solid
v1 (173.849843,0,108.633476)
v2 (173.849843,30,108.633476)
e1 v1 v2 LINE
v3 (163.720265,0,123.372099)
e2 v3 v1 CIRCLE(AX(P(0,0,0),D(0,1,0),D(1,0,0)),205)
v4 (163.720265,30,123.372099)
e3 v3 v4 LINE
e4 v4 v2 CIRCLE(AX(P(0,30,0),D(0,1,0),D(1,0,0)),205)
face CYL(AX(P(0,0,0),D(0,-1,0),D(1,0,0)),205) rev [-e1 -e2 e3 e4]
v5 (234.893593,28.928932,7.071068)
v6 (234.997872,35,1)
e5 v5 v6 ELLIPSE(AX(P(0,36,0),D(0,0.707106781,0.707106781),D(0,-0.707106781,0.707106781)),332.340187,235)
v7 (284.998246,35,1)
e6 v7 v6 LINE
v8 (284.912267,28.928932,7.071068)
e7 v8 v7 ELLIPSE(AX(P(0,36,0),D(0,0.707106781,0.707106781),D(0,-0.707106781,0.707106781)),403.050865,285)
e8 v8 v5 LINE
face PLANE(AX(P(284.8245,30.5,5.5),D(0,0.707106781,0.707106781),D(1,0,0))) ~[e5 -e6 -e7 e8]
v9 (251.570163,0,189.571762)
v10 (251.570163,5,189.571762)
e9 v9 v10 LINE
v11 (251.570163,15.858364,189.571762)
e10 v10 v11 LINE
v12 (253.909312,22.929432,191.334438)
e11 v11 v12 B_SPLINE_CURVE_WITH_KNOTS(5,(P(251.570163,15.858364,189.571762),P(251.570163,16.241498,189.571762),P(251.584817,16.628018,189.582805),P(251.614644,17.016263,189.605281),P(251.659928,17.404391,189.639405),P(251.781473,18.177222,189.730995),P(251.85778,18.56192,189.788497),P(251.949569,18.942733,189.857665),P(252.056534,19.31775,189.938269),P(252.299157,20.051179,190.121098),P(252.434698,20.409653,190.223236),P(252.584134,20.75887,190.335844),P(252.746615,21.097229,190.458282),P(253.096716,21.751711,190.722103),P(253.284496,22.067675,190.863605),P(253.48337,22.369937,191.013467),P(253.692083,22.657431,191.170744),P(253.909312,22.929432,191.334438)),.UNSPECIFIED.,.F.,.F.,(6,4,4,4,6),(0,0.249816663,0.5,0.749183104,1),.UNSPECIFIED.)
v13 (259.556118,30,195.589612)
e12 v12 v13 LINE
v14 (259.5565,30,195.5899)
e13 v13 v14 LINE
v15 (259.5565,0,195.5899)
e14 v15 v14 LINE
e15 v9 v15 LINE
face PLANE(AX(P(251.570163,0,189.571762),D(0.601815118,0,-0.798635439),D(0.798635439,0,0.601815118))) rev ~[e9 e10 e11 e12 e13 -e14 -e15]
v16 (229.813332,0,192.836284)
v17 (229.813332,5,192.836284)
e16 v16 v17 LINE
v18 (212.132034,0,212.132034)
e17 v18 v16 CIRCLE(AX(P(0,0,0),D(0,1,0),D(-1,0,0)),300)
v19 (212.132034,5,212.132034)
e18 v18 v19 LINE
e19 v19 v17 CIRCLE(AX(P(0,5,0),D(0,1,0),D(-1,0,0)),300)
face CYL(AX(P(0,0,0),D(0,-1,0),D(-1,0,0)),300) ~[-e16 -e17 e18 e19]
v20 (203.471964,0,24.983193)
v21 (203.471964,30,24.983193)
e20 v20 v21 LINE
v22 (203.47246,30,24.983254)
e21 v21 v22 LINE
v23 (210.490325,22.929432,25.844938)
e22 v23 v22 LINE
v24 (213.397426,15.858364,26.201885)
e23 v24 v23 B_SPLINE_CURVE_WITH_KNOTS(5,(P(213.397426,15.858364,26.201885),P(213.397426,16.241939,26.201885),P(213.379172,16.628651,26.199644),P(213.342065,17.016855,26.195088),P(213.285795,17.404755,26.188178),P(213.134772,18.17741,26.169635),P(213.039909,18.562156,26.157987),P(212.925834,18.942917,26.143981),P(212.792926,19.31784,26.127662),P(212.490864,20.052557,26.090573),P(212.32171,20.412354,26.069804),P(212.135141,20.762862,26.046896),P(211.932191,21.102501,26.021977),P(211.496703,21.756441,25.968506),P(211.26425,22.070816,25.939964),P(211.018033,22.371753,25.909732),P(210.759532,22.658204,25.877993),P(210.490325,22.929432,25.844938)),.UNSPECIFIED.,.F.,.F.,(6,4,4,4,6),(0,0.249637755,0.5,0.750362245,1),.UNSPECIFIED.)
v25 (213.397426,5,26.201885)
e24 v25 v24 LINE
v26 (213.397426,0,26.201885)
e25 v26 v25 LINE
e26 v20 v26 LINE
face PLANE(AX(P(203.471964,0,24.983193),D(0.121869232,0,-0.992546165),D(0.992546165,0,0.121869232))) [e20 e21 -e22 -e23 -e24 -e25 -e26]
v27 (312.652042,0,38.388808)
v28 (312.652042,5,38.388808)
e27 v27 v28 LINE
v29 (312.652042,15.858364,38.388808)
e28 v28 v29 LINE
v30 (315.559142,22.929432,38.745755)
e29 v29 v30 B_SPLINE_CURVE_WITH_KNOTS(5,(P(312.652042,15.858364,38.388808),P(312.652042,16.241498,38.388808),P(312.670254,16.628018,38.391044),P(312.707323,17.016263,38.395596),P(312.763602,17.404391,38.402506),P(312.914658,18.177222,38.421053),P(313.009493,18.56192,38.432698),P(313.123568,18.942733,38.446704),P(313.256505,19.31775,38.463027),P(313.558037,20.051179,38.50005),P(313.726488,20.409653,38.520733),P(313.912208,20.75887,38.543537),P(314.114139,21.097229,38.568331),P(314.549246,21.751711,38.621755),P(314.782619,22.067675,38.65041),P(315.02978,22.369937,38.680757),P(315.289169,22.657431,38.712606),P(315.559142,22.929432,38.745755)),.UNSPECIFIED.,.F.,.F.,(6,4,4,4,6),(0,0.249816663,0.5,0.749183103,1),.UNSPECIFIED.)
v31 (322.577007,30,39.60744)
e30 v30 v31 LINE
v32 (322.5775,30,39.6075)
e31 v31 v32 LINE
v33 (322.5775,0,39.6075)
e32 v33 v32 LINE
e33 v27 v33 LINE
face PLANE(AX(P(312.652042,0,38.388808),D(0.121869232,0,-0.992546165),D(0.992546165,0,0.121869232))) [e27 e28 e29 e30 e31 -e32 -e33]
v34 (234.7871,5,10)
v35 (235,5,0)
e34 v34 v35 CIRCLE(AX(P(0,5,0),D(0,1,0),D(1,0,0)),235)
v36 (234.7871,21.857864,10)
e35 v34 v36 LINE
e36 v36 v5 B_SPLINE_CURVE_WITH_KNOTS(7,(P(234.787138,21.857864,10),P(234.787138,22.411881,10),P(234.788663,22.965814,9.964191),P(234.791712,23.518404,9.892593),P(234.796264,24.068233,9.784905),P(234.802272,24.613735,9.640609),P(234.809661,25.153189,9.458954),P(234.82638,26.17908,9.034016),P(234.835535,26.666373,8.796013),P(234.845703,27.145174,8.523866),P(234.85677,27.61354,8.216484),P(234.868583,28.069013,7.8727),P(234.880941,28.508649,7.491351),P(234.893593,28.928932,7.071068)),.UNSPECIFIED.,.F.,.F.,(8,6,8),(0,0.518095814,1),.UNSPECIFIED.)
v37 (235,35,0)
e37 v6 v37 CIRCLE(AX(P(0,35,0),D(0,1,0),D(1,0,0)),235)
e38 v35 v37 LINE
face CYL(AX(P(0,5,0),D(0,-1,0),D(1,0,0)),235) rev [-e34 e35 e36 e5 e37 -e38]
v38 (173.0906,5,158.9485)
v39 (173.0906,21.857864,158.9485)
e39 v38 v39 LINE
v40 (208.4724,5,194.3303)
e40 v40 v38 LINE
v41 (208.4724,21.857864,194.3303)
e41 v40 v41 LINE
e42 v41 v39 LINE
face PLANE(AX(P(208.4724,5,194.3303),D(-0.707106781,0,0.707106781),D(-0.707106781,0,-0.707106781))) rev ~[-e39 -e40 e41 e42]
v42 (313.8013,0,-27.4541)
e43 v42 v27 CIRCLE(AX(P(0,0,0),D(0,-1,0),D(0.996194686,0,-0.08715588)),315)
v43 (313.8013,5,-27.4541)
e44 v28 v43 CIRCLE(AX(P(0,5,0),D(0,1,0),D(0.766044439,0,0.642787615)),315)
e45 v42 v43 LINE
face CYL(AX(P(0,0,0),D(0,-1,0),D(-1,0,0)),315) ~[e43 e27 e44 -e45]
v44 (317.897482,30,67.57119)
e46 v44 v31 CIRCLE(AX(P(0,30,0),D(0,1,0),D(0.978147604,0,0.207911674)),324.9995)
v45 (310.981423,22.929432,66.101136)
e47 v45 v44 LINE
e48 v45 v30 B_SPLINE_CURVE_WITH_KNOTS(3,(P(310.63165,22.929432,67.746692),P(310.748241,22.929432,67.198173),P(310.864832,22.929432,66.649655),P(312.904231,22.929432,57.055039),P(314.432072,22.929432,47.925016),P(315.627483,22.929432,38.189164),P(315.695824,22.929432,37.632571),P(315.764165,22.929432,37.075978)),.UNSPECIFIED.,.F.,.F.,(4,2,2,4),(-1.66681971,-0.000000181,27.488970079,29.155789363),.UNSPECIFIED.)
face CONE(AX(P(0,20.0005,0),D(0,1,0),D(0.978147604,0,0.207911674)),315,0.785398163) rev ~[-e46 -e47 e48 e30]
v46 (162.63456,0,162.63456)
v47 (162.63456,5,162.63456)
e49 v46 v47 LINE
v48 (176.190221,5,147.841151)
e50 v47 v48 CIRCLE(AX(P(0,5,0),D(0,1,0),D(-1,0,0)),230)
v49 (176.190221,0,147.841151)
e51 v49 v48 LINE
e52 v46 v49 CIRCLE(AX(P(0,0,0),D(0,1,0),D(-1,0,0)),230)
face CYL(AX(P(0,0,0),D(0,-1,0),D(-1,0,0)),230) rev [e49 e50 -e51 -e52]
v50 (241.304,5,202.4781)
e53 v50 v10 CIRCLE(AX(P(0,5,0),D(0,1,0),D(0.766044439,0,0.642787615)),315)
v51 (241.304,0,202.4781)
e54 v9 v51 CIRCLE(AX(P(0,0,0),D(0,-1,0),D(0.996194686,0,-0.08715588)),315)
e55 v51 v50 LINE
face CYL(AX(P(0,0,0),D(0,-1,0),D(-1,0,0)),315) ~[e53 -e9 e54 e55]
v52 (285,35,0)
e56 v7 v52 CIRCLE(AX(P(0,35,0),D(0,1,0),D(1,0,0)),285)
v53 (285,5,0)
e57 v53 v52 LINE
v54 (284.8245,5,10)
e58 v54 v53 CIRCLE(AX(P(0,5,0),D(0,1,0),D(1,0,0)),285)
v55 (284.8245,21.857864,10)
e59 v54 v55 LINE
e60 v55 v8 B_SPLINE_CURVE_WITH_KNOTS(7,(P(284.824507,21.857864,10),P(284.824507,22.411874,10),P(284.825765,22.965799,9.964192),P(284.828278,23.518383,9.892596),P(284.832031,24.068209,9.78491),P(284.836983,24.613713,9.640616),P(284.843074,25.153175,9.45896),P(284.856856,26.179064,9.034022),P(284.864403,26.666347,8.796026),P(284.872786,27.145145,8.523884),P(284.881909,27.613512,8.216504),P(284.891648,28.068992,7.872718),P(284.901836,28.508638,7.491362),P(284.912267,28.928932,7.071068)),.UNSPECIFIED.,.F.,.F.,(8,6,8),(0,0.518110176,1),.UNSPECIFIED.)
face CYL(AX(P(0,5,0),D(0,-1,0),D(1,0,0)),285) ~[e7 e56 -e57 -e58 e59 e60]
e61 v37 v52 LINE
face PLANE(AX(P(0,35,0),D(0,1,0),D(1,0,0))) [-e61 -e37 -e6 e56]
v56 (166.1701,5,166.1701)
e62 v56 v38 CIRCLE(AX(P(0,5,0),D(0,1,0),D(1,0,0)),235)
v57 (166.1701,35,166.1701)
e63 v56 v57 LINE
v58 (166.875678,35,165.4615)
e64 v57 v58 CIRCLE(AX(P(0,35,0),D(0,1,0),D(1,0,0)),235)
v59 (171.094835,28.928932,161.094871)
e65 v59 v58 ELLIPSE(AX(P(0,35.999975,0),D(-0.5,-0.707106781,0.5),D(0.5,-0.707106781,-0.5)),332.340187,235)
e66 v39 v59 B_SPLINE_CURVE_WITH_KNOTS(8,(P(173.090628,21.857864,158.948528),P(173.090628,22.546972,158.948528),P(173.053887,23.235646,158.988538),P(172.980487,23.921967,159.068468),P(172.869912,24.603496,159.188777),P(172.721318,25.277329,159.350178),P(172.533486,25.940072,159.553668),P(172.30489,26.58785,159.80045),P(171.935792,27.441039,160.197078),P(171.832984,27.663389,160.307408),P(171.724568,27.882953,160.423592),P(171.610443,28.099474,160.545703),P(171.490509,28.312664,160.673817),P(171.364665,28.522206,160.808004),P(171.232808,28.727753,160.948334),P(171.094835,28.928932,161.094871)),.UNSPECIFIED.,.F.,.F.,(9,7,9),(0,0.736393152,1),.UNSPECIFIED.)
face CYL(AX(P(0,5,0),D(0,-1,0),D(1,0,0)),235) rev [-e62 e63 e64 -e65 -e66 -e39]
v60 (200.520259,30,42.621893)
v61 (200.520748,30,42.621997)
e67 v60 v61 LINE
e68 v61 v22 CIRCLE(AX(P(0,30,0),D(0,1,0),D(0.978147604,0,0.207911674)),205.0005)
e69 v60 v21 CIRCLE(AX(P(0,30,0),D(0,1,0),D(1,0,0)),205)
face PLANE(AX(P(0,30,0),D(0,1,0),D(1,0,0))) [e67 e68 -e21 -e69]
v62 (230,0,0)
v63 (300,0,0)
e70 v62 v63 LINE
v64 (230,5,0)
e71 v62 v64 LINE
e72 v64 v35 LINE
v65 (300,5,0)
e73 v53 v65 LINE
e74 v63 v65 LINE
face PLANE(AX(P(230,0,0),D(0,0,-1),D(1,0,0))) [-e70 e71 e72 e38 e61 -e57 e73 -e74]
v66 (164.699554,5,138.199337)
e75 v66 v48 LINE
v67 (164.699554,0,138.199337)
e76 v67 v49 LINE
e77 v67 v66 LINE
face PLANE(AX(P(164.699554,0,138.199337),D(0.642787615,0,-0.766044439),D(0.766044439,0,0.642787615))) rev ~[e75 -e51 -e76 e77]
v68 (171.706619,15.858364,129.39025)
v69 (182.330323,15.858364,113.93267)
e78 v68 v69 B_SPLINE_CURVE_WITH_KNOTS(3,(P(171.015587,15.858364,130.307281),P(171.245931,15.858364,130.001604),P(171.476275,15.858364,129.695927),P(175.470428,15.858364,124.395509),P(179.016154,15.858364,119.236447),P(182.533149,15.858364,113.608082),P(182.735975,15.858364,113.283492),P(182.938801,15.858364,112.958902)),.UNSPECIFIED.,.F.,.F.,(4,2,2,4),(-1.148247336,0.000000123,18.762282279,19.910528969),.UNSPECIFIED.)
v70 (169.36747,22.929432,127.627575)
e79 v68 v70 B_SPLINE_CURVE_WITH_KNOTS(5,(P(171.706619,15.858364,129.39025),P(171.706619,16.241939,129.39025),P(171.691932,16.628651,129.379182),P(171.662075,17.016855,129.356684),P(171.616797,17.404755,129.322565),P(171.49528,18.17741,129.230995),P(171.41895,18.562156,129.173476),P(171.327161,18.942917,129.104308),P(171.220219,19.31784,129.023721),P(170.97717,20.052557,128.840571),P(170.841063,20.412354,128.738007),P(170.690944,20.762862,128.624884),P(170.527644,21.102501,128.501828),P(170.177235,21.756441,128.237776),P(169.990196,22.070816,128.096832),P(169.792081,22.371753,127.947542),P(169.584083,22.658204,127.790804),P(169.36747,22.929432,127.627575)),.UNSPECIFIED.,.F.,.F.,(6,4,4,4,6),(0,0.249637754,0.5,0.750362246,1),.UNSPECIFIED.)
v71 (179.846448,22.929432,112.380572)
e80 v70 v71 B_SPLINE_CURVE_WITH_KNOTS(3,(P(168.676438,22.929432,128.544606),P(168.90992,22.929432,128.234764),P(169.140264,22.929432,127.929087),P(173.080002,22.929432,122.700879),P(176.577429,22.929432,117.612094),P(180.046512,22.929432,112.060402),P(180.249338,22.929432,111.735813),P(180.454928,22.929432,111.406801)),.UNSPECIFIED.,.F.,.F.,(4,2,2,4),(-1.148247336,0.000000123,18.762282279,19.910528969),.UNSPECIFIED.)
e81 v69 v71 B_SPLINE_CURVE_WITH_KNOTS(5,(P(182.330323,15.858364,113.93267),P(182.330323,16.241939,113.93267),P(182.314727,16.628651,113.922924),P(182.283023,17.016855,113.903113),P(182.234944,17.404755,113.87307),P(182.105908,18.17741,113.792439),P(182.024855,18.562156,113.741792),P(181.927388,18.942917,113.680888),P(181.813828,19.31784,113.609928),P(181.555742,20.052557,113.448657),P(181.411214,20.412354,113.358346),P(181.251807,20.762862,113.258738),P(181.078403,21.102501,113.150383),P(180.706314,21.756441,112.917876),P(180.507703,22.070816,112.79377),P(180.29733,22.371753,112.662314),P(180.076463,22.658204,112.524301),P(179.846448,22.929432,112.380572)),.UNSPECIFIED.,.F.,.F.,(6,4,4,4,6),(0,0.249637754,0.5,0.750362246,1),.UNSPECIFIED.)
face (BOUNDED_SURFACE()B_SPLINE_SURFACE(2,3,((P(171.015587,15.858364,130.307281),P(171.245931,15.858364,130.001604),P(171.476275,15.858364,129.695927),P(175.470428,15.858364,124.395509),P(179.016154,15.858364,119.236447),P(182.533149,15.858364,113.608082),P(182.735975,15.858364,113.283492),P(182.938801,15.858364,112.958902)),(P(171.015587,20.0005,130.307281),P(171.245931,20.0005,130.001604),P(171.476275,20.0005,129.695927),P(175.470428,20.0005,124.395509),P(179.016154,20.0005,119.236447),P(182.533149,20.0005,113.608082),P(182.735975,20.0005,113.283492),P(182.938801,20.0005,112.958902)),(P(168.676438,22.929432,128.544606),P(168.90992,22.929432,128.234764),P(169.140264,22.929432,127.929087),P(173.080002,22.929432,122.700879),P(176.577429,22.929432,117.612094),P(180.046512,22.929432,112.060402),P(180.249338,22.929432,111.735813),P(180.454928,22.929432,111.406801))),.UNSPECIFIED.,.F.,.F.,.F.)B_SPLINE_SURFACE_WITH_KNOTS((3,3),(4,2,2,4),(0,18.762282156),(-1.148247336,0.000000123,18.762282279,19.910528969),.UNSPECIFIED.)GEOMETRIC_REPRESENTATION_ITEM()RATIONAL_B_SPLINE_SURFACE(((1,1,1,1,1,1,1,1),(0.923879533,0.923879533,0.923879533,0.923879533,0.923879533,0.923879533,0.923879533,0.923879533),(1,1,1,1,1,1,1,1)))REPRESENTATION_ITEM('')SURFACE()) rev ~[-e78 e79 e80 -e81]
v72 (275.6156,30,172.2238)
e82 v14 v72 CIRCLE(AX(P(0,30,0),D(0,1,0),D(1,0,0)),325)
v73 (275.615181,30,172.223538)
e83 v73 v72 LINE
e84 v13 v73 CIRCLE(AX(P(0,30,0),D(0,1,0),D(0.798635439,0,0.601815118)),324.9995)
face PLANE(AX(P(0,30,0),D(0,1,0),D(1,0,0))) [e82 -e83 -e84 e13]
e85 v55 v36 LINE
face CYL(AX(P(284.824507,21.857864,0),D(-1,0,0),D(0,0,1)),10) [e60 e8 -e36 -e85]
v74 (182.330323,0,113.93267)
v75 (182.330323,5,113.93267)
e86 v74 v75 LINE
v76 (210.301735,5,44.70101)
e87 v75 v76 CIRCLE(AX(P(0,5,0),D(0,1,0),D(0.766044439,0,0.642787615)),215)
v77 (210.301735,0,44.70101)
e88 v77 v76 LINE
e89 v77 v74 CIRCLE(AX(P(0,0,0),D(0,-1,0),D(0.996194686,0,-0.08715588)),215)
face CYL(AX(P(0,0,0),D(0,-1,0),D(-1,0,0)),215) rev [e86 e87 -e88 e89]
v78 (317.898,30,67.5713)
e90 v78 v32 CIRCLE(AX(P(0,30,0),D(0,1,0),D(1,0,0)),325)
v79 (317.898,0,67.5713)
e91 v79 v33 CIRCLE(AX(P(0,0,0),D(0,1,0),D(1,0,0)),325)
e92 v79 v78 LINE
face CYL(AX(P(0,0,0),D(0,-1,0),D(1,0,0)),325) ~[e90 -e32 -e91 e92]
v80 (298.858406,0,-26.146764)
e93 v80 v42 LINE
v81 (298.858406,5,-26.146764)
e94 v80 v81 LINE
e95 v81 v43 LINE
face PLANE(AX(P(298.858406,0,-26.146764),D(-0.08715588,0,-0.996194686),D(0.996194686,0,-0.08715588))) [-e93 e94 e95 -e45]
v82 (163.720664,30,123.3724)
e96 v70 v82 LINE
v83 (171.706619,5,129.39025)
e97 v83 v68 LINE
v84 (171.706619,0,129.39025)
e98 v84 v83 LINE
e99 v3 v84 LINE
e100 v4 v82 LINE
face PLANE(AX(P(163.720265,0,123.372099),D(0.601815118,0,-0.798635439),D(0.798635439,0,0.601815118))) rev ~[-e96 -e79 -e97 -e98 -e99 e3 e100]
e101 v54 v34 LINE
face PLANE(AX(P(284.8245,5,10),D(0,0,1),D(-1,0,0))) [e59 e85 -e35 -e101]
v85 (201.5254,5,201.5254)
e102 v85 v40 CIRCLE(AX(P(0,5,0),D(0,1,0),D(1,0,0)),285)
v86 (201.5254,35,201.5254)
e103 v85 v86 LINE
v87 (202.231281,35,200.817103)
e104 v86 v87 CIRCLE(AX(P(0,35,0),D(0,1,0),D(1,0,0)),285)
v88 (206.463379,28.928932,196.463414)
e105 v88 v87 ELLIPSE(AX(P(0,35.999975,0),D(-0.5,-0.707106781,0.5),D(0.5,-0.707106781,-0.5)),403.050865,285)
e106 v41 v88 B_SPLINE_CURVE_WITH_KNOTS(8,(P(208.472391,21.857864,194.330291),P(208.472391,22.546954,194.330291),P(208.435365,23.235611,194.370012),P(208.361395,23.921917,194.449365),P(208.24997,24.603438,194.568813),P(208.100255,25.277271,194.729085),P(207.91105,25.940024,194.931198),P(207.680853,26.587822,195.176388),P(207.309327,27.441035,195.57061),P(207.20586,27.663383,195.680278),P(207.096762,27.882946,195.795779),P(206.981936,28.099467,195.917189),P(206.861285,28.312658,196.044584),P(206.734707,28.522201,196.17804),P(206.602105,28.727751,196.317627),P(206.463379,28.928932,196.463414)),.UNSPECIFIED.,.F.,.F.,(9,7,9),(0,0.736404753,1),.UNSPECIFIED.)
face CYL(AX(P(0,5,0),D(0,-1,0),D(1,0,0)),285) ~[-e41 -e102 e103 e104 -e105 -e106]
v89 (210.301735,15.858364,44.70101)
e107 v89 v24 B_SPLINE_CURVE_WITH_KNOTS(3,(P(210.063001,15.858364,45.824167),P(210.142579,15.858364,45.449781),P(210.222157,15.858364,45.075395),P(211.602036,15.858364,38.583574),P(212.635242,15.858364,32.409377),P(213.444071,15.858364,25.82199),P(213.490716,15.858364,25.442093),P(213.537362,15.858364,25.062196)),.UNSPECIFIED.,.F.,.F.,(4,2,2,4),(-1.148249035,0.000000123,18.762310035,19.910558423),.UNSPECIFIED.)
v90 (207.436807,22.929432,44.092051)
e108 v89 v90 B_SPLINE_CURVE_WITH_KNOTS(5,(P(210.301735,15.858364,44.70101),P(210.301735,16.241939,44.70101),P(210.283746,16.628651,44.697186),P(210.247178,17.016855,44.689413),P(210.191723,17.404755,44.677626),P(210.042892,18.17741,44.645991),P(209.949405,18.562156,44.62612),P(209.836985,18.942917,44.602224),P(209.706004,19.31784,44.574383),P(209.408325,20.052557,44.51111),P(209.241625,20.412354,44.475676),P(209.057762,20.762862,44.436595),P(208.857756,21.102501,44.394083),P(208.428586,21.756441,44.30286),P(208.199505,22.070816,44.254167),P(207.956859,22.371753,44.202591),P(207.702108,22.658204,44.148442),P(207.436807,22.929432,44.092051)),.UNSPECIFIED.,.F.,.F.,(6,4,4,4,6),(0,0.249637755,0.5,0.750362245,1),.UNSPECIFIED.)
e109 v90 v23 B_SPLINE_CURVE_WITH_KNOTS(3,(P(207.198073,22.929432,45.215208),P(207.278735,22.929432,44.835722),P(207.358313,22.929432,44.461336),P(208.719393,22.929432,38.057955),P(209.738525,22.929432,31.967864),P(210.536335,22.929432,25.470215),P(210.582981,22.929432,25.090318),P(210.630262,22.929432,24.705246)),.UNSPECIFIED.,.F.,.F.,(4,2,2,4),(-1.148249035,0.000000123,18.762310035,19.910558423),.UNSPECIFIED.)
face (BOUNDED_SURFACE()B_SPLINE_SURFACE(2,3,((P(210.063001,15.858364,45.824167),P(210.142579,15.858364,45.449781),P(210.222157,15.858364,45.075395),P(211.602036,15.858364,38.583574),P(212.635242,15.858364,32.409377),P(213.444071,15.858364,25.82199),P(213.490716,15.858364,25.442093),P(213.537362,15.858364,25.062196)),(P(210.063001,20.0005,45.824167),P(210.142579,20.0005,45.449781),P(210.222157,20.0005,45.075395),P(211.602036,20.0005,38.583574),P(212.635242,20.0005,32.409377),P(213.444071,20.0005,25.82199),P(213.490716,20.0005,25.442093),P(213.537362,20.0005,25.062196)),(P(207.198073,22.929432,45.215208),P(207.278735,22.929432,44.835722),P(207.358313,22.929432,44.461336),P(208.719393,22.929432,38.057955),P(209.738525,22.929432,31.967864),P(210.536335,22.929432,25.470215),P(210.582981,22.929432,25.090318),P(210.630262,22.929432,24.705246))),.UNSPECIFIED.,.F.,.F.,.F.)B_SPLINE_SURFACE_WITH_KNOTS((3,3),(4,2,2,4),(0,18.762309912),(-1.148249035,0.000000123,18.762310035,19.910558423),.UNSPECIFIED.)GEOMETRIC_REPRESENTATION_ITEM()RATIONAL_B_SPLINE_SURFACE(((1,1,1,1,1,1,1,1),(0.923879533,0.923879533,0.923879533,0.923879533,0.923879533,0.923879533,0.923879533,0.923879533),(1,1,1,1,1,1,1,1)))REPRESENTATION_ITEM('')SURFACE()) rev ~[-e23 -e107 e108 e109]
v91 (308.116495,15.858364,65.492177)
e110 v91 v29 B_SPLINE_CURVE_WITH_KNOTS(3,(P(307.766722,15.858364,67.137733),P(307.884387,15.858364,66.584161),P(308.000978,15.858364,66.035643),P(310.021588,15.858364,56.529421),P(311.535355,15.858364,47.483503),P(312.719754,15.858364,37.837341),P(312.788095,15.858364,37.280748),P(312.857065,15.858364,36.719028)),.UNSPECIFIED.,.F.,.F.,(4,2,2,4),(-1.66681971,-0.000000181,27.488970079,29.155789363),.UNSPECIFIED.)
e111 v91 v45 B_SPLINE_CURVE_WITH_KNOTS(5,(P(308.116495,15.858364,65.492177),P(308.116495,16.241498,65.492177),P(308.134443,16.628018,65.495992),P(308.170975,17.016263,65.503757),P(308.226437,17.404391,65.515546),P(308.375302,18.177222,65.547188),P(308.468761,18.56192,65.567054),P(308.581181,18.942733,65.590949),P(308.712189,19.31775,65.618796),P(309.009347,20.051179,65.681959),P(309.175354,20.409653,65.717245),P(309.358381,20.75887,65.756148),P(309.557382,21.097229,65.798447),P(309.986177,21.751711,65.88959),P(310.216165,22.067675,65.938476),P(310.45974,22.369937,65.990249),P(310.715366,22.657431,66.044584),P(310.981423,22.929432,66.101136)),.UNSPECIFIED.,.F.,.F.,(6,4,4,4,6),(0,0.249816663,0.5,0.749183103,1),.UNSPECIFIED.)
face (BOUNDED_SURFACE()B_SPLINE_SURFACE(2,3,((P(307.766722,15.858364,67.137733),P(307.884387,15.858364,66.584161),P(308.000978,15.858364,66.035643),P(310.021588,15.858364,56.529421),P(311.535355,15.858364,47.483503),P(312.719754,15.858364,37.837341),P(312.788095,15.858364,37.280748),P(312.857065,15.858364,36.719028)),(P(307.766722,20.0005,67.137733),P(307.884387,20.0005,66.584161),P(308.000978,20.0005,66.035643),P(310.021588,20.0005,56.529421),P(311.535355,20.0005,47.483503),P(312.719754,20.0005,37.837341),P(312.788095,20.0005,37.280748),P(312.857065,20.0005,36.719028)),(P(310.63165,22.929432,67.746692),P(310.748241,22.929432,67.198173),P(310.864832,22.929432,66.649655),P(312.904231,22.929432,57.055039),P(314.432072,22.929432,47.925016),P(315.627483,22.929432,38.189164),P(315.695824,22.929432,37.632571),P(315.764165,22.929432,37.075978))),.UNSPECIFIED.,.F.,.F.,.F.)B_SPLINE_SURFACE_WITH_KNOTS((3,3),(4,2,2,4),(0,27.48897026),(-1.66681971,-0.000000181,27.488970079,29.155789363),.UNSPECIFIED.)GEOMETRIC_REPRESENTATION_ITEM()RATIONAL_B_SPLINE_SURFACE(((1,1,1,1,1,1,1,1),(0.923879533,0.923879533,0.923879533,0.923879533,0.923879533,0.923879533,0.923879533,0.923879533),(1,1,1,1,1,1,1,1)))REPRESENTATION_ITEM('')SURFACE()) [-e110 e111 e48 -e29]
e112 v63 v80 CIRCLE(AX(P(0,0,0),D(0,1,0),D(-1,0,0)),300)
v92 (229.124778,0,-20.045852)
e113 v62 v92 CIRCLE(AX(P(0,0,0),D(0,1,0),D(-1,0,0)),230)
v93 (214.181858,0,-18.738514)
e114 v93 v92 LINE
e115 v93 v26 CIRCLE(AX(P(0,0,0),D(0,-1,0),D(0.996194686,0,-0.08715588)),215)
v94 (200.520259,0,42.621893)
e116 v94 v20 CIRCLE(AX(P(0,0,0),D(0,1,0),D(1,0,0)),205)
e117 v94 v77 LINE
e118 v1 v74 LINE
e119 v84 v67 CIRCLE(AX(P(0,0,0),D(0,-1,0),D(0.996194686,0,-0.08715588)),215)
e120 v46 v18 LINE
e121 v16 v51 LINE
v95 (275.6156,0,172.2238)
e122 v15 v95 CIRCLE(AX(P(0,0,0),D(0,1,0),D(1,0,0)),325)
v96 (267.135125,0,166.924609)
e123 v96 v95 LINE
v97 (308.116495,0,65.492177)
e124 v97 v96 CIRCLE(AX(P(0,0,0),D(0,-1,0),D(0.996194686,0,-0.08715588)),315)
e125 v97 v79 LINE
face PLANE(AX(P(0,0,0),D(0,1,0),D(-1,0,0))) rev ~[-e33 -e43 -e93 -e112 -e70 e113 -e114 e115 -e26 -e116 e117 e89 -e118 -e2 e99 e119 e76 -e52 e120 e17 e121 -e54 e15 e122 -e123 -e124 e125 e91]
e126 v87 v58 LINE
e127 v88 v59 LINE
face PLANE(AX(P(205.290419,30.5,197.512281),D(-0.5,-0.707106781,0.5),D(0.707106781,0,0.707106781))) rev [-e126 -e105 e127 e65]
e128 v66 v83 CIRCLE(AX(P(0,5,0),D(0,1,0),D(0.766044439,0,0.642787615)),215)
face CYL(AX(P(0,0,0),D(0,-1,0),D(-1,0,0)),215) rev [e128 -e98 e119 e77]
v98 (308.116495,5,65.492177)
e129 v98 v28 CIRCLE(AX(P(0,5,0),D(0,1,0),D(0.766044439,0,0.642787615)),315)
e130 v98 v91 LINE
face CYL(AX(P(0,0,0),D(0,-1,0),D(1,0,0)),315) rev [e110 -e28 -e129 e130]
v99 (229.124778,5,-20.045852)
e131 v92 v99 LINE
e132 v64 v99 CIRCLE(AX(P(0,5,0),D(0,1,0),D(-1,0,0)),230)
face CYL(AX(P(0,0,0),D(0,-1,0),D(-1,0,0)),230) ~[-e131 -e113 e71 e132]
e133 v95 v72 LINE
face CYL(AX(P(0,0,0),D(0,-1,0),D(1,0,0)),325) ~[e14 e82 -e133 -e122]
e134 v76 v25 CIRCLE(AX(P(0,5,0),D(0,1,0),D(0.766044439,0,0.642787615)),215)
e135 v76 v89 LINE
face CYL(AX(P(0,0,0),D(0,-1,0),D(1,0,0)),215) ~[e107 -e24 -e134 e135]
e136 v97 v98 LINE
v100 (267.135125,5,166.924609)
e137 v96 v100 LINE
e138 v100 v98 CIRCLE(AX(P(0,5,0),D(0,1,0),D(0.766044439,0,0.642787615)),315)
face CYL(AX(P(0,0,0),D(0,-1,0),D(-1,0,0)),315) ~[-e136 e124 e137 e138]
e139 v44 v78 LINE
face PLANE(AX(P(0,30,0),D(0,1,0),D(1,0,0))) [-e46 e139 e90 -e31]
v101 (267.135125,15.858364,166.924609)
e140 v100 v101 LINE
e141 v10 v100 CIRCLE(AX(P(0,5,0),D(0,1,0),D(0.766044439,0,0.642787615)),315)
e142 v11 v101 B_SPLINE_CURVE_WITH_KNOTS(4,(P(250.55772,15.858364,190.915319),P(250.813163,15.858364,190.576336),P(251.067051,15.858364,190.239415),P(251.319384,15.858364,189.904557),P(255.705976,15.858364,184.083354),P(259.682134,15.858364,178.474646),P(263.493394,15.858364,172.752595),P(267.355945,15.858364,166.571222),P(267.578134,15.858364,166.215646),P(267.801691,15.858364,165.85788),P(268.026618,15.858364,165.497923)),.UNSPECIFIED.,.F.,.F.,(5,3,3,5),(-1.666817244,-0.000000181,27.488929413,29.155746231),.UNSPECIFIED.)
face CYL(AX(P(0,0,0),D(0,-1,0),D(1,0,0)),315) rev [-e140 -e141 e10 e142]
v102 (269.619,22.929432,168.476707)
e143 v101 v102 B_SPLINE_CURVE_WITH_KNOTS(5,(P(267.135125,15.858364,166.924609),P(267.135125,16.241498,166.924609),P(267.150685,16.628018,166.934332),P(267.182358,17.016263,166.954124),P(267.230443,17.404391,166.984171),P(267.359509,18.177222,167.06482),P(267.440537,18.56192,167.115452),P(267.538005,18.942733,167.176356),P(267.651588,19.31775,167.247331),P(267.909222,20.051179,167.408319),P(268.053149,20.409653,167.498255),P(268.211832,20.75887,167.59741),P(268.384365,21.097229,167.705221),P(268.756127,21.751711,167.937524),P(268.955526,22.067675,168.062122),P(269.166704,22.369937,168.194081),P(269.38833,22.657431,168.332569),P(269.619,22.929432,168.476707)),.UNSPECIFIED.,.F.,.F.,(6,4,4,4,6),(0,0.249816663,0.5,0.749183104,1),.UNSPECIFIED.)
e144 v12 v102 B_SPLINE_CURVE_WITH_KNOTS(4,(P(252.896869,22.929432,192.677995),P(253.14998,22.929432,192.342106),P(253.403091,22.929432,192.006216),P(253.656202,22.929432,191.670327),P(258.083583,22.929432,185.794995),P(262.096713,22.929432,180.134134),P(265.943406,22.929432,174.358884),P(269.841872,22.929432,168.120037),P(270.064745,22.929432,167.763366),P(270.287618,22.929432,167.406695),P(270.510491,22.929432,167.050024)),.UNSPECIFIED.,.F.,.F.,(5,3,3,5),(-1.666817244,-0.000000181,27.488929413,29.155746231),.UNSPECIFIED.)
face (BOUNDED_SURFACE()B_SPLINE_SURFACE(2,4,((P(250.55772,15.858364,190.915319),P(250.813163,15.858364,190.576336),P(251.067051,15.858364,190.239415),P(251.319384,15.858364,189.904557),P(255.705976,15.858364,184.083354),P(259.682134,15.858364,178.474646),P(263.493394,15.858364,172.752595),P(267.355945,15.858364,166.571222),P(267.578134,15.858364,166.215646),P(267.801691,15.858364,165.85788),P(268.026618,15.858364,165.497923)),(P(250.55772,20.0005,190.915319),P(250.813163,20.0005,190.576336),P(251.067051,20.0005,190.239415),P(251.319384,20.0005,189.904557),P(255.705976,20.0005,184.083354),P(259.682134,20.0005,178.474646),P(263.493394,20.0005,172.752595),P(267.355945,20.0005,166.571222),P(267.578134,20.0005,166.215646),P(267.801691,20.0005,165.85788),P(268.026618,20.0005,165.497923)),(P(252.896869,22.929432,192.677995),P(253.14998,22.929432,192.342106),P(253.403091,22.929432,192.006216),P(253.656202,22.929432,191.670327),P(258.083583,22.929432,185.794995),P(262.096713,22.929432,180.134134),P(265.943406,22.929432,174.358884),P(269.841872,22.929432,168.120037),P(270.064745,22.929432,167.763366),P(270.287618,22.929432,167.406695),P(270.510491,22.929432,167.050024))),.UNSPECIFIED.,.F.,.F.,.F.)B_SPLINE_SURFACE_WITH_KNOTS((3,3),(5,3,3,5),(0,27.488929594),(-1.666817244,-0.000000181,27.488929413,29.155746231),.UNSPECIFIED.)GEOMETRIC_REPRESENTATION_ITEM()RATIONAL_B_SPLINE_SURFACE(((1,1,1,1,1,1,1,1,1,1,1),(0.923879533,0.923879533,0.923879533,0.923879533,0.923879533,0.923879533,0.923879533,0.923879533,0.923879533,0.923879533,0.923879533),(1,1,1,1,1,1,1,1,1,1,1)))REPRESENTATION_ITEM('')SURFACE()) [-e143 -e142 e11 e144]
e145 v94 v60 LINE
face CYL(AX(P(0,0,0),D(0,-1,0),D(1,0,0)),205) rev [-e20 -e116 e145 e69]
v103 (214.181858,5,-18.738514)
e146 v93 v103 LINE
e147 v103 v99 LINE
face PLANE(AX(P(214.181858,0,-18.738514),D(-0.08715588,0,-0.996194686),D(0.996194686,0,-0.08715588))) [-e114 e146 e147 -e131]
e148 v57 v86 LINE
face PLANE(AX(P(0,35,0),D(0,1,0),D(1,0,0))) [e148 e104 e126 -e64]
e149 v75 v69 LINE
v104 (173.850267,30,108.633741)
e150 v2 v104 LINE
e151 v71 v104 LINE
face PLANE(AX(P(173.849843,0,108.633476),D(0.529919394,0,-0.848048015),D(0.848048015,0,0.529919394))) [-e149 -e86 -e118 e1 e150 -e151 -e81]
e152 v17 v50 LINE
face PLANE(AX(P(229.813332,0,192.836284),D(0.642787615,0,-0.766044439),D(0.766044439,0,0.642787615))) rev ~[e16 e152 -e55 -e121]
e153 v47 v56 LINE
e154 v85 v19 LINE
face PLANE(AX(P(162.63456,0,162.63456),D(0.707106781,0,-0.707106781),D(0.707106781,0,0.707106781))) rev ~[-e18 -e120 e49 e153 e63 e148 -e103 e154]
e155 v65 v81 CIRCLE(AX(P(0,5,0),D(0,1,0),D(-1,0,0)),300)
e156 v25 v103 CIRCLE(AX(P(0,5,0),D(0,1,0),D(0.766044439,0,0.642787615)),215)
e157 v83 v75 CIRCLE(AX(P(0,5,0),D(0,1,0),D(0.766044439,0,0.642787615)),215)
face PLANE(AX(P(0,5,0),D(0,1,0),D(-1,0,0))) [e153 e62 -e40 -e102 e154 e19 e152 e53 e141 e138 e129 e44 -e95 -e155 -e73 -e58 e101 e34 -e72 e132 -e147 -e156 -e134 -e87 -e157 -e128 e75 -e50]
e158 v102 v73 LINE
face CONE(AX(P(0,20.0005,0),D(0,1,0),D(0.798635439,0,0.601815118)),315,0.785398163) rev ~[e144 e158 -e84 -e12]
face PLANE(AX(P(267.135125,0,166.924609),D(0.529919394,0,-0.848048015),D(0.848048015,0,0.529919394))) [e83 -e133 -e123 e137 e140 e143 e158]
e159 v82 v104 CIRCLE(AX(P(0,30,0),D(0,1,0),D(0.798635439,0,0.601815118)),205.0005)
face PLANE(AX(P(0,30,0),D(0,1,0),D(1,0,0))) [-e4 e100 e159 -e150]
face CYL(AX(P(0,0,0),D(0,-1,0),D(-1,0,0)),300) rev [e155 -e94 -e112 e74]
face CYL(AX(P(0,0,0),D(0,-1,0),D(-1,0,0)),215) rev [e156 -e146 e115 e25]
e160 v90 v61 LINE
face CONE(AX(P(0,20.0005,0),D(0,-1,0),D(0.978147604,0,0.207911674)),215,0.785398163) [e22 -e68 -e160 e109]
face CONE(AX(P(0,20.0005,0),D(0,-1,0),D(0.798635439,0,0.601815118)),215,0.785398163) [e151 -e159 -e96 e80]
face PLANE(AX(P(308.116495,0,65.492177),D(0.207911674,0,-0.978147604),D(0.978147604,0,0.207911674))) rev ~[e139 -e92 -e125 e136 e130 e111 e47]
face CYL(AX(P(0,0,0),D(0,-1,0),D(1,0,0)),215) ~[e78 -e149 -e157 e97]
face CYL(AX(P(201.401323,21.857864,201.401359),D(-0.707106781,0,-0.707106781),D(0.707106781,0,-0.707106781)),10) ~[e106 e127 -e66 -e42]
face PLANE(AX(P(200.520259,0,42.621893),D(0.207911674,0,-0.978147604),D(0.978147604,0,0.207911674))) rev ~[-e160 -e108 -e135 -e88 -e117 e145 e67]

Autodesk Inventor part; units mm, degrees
ref_plane "YZ Plane" through (0, 0, 0) normal (1, 0, 0) x (0, 1, 0)
ref_plane "XZ Plane" through (0, 0, 0) normal (0, 1, 0) x (-1, 0, 0)
ref_plane "XY Plane" through (0, 0, 0) normal (0, 0, 1) x (1, 0, 0)
sketch "Sketch1" plane through (0, 0, 0) normal (0, 1, 0) x (-1, 0, 0)
  circle A0 centre (0, 0) radius 215
  circle A1 centre (0, 0) radius 315
  line L0 (0, 0) -> (-315, 0)
  line L1 (0, 0) -> (-222.7386, 222.7386)
  line L2 (0, 0) -> (-313.8013, -27.4541)
  line L3 (0, 0) -> (-241.304, 202.4781)
  circle A2 centre (0, 0) radius 230
  circle A3 centre (0, 0) radius 300
  point P0 (-152.028, 152.028)
  point P1 (-215, 0)
  point P2 (-212.132, 212.132)
  point P3 (-229.8133, 192.8363)
  point P4 (-298.8584, -26.1467)
  point P5 (-300, 0)
  point P6 (-230, 0)
  point P7 (-229.1248, -20.0458)
  point P8 (-214.1819, -18.7385)
  point P9 (-164.6996, 138.1993)
  point P10 (-176.1902, 147.8412)
  point P11 (-162.6346, 162.6346)
  dimension "d1" = 430
  dimension "d2" = 45
  dimension "d31" = 100
  dimension "d47" = 5
  dimension "d48" = 5
  dimension "d49" = 15
  dimension "d50" = 15
extrude "Extrusion1" add sketch "Sketch1" along normal blind 5 contours L2 A2 L0 A0 | A0 L0 A2 L3 | A2 L3 A3 L1 | A2 L0 A3 L3 | L2 A1 L0 A3 | A3 L0 A1 L3
sketch "Sketch2" plane through (0, 0, 0) normal (0, 1, 0) x (1, 0, 0)
  circle A0 centre (0, 0) radius 205
  circle A1 centre (0, 0) radius 215
  circle A2 centre (0, 0) radius 315
  circle A3 centre (0, 0) radius 325
  line L0 (0, 0) -> (259.5565, -195.5899)
  line L1 (0, 0) -> (275.6156, -172.2238)
  line L2 (0, 0) -> (317.898, -67.5713)
  line L3 (0, 0) -> (322.5775, -39.6075)
  line L4 (300, 0) -> (230, 0) projected
  point P0 (315, 0)
  point P1 (215, 0)
  point P2 (312.652, -38.3888)
  point P3 (308.1165, -65.4922)
  point P4 (213.3974, -26.2019)
  point P5 (203.472, -24.9832)
  point P6 (200.5203, -42.6219)
  point P7 (210.3017, -44.701)
  point P8 (267.1352, -166.9246)
  point P9 (251.5702, -189.5717)
  point P10 (182.3303, -113.9326)
  point P11 (173.8499, -108.6334)
  point P12 (163.7203, -123.3721)
  point P13 (171.7066, -129.3902)
  dimension "d5" = 410
  dimension "d6" = 10
  dimension "d7" = 100
  dimension "d8" = 10
  dimension "d9" = 7
  dimension "d10" = 5
  dimension "d11" = 20
  dimension "d12" = 5
extrude "Extrusion2" add sketch "Sketch2" along normal blind 30 contours A0 L1 A1 L0 | L3 A1 L2 A0 | A2 L1 A3 L0 | L3 A3 L2 A2
chamfer "Chamfer1" distance 10 angle 45 4 edges at (177.1871, 30, 121.7773) (259.5997, 30, 178.418) (212.0514, 30, 35.4852) (310.68, 30, 51.99)
sketch "Sketch3" plane through (0, 5, 0) normal (0, 1, 0) x (1, 0, 0)
  circle A0 centre (0, 0) radius 235
  circle A1 centre (0, 0) radius 285
  arc A2 (251.5702, -189.5717) -> (267.1352, -166.9246) centre (0, 0) ccw projected
  arc A3 (308.1165, -65.4922) -> (312.652, -38.3888) centre (0, 0) ccw projected
  arc A4 (241.304, -202.4781) -> (251.5702, -189.5717) centre (0, 0) ccw projected
  line L0 (300, 0) -> (230, 0) projected
  arc A5 (213.3974, -26.2019) -> (214.1819, 18.7385) centre (0, 0) ccw projected
  line L1 (162.6346, -162.6346) -> (212.132, -212.132) projected
  line L2 (166.1701, -166.1701) -> (201.5254, -201.5254)
  arc A6 (312.652, -38.3888) -> (313.8013, 27.4541) centre (0, 0) ccw projected
  arc A7 (267.1352, -166.9246) -> (308.1165, -65.4922) centre (0, 0) ccw projected
  arc A8 (171.7066, -129.3902) -> (182.3303, -113.9326) centre (0, 0) ccw projected
  arc A9 (164.6996, -138.1993) -> (171.7066, -129.3902) centre (0, 0) ccw projected
  arc A10 (210.3017, -44.701) -> (213.3974, -26.2019) centre (0, 0) ccw projected
  arc A11 (182.3303, -113.9326) -> (210.3017, -44.701) centre (0, 0) ccw projected
  line L3 (235, 0) -> (284.6303, 0)
  line L4 (284.8245, -10) -> (234.7871, -10)
  line L5 (208.4724, -194.3303) -> (173.0906, -158.9485)
  line L6 (229.8133, -192.8363) -> (241.304, -202.4781) projected
  line L7 (313.8013, 27.4541) -> (298.8584, 26.1467) projected
  arc A12 (300, 0) -> (298.8584, 26.1467) centre (0, 0) ccw projected
  arc A13 (230, 0) -> (229.1248, 20.0458) centre (0, 0) ccw projected
  line L8 (229.1248, 20.0458) -> (214.1819, 18.7385) projected
  line L9 (164.6996, -138.1993) -> (176.1902, -147.8412) projected
  arc A14 (162.6346, -162.6346) -> (176.1902, -147.8412) centre (0, 0) ccw projected
  arc A15 (212.132, -212.132) -> (229.8133, -192.8363) centre (0, 0) ccw projected
  point P0 (235, 0)
  point P1 (172.3223, -159.7812)
  point P2 (208.9866, -193.7772)
  point P3 (166.1701, -166.1701)
  point P4 (201.5254, -201.5254)
  point P5 (285, 0)
  point P6 (235, 0)
  point P7 (183.8478, -183.8478)
  point P8 (187.3833, -187.3833)
  dimension "d18" = 470
  dimension "d22" = 0
  dimension "d32" = 50
  dimension "d33" = 10
  dimension "d34" = 0
  dimension "d43" = 10
extrude "Extrusion3" add sketch "Sketch3" along normal blind 30 contours L0 A1 L4 A0 | A0 L5 A1 L1
chamfer "Chamfer3" distance 9 angle 45 2 edges at (259.8058, 35, 10) (190.7815, 35, 176.6394)
fillet "Fillet1" radius 10 6 edges at (259.8058, 26, 10) (310.68, 20.0005, 51.99) (259.5997, 20.0005, 178.418) (177.1871, 20.0005, 121.7773) (212.0514, 20.0005, 35.4852) (190.7815, 26, 176.6394)
sketch "Sketch4" plane through (0, 5, 0) normal (0, 1, 0) x (1, 0, 0)
  arc A0 (201.5254, -201.5254) -> (208.4724, -194.3303) centre (0, 0) ccw projected
  line L0 (201.5254, -201.5254) -> (212.132, -212.132) projected
  arc A1 (241.304, -202.4781) -> (251.5702, -189.5717) centre (0, 0) ccw projected
  arc A2 (251.5702, -189.5717) -> (267.1352, -166.9246) centre (0, 0) ccw projected
  arc A3 (267.1352, -166.9246) -> (308.1165, -65.4922) centre (0, 0) ccw projected
  arc A4 (308.1165, -65.4922) -> (312.652, -38.3888) centre (0, 0) ccw projected
  arc A5 (312.652, -38.3888) -> (313.8013, 27.4541) centre (0, 0) ccw projected
  line L1 (300, 0) -> (285, 0) projected
  arc A6 (284.8245, -10) -> (285, 0) centre (0, 0) ccw projected
  line L2 (284.8245, -10) -> (234.7871, -10) projected
  arc A7 (234.7871, -10) -> (235, 0) centre (0, 0) ccw projected
  line L3 (235, 0) -> (230, 0) projected
  arc A8 (213.3974, -26.2019) -> (214.1819, 18.7385) centre (0, 0) ccw projected
  arc A9 (210.3017, -44.701) -> (213.3974, -26.2019) centre (0, 0) ccw projected
  arc A10 (182.3303, -113.9326) -> (210.3017, -44.701) centre (0, 0) ccw projected
  arc A11 (171.7066, -129.3902) -> (182.3303, -113.9326) centre (0, 0) ccw projected
  arc A12 (164.6996, -138.1993) -> (171.7066, -129.3902) centre (0, 0) ccw projected
  line L4 (162.6346, -162.6346) -> (166.1701, -166.1701) projected
  arc A13 (166.1701, -166.1701) -> (173.0906, -158.9485) centre (0, 0) ccw projected
  line L5 (234.7871, -10) -> (214.7673, -10)
  arc A14 (213.3974, -26.2019) -> (214.1819, 18.7385) centre (0, 0) ccw projected
  line L6 (284.8245, -10) -> (314.8412, -10)
  line L7 (171.8681, -160.2696) -> (157.241, -146.6296)
  line L8 (208.4358, -194.3695) -> (230.3764, -214.8295)
  arc A15 (241.304, -202.4781) -> (251.5702, -189.5717) centre (0, 0) ccw projected
  line L9 (173.0906, -158.9485) -> (208.4724, -194.3303) projected
  arc A16 (230, 0) -> (229.1248, 20.0458) centre (0, 0) ccw projected
  line L10 (229.1248, 20.0458) -> (214.1819, 18.7385) projected
  line L11 (164.6996, -138.1993) -> (176.1902, -147.8412) projected
  arc A17 (162.6346, -162.6346) -> (176.1902, -147.8412) centre (0, 0) ccw projected
  arc A18 (212.132, -212.132) -> (229.8133, -192.8363) centre (0, 0) ccw projected
  line L12 (229.8133, -192.8363) -> (241.304, -202.4781) projected
  line L13 (313.8013, 27.4541) -> (298.8584, 26.1467) projected
  arc A19 (300, 0) -> (298.8584, 26.1467) centre (0, 0) ccw projected
  point P0 (222.7386, -222.7386)
  point P1 (215, 0)
  dimension "d39" = 43
sketch "Sketch5" plane through (0, 5, 0) normal (0, 1, 0) x (1, 0, 0)
  arc A0 (234.7871, -10) -> (235, 0) centre (0, 0) ccw projected
  line L0 (235, 0) -> (230, 0) projected
  arc A1 (213.3974, -26.2019) -> (214.1819, 18.7385) centre (0, 0) ccw projected
  arc A2 (210.3017, -44.701) -> (213.3974, -26.2019) centre (0, 0) ccw projected
  arc A3 (182.3303, -113.9326) -> (210.3017, -44.701) centre (0, 0) ccw projected
  arc A4 (171.7066, -129.3902) -> (182.3303, -113.9326) centre (0, 0) ccw projected
  arc A5 (164.6996, -138.1993) -> (171.7066, -129.3902) centre (0, 0) ccw projected
  line L1 (162.6346, -162.6346) -> (166.1701, -166.1701) projected
  arc A6 (166.1701, -166.1701) -> (173.0906, -158.9485) centre (0, 0) ccw projected
  line L2 (173.0906, -158.9485) -> (208.4724, -194.3303) projected
  arc A7 (201.5254, -201.5254) -> (208.4724, -194.3303) centre (0, 0) ccw projected
  line L3 (201.5254, -201.5254) -> (212.132, -212.132) projected
  arc A8 (241.304, -202.4781) -> (251.5702, -189.5717) centre (0, 0) ccw projected
  arc A9 (251.5702, -189.5717) -> (267.1352, -166.9246) centre (0, 0) ccw projected
  arc A10 (267.1352, -166.9246) -> (308.1165, -65.4922) centre (0, 0) ccw projected
  arc A11 (308.1165, -65.4922) -> (312.652, -38.3888) centre (0, 0) ccw projected
  arc A12 (312.652, -38.3888) -> (313.8013, 27.4541) centre (0, 0) ccw projected
  line L4 (300, 0) -> (285, 0) projected
  arc A13 (284.8245, -10) -> (285, 0) centre (0, 0) ccw projected
  line L5 (284.8245, -10) -> (234.7871, -10) projected
  line L6 (222.7386, -222.7386) -> (0, 0) construction
  line L7 (0, 0) -> (315, 0) construction
  circle A14 centre (0, 0) radius 215
  circle A15 centre (0, 0) radius 315
  arc A16 (230, 0) -> (229.1248, 20.0458) centre (0, 0) ccw projected
  line L8 (229.1248, 20.0458) -> (214.1819, 18.7385) projected
  line L9 (164.6996, -138.1993) -> (176.1902, -147.8412) projected
  arc A17 (162.6346, -162.6346) -> (176.1902, -147.8412) centre (0, 0) ccw projected
  arc A18 (212.132, -212.132) -> (229.8133, -192.8363) centre (0, 0) ccw projected
  line L10 (229.8133, -192.8363) -> (241.304, -202.4781) projected
  line L11 (313.8013, 27.4541) -> (298.8584, 26.1467) projected
  arc A19 (300, 0) -> (298.8584, 26.1467) centre (0, 0) ccw projected
  dimension "d44" = 45
  dimension "d45" = 630
  dimension "d46" = 430
properties part number "MC Plate" material "MDF Medium Density Fiberboard"
